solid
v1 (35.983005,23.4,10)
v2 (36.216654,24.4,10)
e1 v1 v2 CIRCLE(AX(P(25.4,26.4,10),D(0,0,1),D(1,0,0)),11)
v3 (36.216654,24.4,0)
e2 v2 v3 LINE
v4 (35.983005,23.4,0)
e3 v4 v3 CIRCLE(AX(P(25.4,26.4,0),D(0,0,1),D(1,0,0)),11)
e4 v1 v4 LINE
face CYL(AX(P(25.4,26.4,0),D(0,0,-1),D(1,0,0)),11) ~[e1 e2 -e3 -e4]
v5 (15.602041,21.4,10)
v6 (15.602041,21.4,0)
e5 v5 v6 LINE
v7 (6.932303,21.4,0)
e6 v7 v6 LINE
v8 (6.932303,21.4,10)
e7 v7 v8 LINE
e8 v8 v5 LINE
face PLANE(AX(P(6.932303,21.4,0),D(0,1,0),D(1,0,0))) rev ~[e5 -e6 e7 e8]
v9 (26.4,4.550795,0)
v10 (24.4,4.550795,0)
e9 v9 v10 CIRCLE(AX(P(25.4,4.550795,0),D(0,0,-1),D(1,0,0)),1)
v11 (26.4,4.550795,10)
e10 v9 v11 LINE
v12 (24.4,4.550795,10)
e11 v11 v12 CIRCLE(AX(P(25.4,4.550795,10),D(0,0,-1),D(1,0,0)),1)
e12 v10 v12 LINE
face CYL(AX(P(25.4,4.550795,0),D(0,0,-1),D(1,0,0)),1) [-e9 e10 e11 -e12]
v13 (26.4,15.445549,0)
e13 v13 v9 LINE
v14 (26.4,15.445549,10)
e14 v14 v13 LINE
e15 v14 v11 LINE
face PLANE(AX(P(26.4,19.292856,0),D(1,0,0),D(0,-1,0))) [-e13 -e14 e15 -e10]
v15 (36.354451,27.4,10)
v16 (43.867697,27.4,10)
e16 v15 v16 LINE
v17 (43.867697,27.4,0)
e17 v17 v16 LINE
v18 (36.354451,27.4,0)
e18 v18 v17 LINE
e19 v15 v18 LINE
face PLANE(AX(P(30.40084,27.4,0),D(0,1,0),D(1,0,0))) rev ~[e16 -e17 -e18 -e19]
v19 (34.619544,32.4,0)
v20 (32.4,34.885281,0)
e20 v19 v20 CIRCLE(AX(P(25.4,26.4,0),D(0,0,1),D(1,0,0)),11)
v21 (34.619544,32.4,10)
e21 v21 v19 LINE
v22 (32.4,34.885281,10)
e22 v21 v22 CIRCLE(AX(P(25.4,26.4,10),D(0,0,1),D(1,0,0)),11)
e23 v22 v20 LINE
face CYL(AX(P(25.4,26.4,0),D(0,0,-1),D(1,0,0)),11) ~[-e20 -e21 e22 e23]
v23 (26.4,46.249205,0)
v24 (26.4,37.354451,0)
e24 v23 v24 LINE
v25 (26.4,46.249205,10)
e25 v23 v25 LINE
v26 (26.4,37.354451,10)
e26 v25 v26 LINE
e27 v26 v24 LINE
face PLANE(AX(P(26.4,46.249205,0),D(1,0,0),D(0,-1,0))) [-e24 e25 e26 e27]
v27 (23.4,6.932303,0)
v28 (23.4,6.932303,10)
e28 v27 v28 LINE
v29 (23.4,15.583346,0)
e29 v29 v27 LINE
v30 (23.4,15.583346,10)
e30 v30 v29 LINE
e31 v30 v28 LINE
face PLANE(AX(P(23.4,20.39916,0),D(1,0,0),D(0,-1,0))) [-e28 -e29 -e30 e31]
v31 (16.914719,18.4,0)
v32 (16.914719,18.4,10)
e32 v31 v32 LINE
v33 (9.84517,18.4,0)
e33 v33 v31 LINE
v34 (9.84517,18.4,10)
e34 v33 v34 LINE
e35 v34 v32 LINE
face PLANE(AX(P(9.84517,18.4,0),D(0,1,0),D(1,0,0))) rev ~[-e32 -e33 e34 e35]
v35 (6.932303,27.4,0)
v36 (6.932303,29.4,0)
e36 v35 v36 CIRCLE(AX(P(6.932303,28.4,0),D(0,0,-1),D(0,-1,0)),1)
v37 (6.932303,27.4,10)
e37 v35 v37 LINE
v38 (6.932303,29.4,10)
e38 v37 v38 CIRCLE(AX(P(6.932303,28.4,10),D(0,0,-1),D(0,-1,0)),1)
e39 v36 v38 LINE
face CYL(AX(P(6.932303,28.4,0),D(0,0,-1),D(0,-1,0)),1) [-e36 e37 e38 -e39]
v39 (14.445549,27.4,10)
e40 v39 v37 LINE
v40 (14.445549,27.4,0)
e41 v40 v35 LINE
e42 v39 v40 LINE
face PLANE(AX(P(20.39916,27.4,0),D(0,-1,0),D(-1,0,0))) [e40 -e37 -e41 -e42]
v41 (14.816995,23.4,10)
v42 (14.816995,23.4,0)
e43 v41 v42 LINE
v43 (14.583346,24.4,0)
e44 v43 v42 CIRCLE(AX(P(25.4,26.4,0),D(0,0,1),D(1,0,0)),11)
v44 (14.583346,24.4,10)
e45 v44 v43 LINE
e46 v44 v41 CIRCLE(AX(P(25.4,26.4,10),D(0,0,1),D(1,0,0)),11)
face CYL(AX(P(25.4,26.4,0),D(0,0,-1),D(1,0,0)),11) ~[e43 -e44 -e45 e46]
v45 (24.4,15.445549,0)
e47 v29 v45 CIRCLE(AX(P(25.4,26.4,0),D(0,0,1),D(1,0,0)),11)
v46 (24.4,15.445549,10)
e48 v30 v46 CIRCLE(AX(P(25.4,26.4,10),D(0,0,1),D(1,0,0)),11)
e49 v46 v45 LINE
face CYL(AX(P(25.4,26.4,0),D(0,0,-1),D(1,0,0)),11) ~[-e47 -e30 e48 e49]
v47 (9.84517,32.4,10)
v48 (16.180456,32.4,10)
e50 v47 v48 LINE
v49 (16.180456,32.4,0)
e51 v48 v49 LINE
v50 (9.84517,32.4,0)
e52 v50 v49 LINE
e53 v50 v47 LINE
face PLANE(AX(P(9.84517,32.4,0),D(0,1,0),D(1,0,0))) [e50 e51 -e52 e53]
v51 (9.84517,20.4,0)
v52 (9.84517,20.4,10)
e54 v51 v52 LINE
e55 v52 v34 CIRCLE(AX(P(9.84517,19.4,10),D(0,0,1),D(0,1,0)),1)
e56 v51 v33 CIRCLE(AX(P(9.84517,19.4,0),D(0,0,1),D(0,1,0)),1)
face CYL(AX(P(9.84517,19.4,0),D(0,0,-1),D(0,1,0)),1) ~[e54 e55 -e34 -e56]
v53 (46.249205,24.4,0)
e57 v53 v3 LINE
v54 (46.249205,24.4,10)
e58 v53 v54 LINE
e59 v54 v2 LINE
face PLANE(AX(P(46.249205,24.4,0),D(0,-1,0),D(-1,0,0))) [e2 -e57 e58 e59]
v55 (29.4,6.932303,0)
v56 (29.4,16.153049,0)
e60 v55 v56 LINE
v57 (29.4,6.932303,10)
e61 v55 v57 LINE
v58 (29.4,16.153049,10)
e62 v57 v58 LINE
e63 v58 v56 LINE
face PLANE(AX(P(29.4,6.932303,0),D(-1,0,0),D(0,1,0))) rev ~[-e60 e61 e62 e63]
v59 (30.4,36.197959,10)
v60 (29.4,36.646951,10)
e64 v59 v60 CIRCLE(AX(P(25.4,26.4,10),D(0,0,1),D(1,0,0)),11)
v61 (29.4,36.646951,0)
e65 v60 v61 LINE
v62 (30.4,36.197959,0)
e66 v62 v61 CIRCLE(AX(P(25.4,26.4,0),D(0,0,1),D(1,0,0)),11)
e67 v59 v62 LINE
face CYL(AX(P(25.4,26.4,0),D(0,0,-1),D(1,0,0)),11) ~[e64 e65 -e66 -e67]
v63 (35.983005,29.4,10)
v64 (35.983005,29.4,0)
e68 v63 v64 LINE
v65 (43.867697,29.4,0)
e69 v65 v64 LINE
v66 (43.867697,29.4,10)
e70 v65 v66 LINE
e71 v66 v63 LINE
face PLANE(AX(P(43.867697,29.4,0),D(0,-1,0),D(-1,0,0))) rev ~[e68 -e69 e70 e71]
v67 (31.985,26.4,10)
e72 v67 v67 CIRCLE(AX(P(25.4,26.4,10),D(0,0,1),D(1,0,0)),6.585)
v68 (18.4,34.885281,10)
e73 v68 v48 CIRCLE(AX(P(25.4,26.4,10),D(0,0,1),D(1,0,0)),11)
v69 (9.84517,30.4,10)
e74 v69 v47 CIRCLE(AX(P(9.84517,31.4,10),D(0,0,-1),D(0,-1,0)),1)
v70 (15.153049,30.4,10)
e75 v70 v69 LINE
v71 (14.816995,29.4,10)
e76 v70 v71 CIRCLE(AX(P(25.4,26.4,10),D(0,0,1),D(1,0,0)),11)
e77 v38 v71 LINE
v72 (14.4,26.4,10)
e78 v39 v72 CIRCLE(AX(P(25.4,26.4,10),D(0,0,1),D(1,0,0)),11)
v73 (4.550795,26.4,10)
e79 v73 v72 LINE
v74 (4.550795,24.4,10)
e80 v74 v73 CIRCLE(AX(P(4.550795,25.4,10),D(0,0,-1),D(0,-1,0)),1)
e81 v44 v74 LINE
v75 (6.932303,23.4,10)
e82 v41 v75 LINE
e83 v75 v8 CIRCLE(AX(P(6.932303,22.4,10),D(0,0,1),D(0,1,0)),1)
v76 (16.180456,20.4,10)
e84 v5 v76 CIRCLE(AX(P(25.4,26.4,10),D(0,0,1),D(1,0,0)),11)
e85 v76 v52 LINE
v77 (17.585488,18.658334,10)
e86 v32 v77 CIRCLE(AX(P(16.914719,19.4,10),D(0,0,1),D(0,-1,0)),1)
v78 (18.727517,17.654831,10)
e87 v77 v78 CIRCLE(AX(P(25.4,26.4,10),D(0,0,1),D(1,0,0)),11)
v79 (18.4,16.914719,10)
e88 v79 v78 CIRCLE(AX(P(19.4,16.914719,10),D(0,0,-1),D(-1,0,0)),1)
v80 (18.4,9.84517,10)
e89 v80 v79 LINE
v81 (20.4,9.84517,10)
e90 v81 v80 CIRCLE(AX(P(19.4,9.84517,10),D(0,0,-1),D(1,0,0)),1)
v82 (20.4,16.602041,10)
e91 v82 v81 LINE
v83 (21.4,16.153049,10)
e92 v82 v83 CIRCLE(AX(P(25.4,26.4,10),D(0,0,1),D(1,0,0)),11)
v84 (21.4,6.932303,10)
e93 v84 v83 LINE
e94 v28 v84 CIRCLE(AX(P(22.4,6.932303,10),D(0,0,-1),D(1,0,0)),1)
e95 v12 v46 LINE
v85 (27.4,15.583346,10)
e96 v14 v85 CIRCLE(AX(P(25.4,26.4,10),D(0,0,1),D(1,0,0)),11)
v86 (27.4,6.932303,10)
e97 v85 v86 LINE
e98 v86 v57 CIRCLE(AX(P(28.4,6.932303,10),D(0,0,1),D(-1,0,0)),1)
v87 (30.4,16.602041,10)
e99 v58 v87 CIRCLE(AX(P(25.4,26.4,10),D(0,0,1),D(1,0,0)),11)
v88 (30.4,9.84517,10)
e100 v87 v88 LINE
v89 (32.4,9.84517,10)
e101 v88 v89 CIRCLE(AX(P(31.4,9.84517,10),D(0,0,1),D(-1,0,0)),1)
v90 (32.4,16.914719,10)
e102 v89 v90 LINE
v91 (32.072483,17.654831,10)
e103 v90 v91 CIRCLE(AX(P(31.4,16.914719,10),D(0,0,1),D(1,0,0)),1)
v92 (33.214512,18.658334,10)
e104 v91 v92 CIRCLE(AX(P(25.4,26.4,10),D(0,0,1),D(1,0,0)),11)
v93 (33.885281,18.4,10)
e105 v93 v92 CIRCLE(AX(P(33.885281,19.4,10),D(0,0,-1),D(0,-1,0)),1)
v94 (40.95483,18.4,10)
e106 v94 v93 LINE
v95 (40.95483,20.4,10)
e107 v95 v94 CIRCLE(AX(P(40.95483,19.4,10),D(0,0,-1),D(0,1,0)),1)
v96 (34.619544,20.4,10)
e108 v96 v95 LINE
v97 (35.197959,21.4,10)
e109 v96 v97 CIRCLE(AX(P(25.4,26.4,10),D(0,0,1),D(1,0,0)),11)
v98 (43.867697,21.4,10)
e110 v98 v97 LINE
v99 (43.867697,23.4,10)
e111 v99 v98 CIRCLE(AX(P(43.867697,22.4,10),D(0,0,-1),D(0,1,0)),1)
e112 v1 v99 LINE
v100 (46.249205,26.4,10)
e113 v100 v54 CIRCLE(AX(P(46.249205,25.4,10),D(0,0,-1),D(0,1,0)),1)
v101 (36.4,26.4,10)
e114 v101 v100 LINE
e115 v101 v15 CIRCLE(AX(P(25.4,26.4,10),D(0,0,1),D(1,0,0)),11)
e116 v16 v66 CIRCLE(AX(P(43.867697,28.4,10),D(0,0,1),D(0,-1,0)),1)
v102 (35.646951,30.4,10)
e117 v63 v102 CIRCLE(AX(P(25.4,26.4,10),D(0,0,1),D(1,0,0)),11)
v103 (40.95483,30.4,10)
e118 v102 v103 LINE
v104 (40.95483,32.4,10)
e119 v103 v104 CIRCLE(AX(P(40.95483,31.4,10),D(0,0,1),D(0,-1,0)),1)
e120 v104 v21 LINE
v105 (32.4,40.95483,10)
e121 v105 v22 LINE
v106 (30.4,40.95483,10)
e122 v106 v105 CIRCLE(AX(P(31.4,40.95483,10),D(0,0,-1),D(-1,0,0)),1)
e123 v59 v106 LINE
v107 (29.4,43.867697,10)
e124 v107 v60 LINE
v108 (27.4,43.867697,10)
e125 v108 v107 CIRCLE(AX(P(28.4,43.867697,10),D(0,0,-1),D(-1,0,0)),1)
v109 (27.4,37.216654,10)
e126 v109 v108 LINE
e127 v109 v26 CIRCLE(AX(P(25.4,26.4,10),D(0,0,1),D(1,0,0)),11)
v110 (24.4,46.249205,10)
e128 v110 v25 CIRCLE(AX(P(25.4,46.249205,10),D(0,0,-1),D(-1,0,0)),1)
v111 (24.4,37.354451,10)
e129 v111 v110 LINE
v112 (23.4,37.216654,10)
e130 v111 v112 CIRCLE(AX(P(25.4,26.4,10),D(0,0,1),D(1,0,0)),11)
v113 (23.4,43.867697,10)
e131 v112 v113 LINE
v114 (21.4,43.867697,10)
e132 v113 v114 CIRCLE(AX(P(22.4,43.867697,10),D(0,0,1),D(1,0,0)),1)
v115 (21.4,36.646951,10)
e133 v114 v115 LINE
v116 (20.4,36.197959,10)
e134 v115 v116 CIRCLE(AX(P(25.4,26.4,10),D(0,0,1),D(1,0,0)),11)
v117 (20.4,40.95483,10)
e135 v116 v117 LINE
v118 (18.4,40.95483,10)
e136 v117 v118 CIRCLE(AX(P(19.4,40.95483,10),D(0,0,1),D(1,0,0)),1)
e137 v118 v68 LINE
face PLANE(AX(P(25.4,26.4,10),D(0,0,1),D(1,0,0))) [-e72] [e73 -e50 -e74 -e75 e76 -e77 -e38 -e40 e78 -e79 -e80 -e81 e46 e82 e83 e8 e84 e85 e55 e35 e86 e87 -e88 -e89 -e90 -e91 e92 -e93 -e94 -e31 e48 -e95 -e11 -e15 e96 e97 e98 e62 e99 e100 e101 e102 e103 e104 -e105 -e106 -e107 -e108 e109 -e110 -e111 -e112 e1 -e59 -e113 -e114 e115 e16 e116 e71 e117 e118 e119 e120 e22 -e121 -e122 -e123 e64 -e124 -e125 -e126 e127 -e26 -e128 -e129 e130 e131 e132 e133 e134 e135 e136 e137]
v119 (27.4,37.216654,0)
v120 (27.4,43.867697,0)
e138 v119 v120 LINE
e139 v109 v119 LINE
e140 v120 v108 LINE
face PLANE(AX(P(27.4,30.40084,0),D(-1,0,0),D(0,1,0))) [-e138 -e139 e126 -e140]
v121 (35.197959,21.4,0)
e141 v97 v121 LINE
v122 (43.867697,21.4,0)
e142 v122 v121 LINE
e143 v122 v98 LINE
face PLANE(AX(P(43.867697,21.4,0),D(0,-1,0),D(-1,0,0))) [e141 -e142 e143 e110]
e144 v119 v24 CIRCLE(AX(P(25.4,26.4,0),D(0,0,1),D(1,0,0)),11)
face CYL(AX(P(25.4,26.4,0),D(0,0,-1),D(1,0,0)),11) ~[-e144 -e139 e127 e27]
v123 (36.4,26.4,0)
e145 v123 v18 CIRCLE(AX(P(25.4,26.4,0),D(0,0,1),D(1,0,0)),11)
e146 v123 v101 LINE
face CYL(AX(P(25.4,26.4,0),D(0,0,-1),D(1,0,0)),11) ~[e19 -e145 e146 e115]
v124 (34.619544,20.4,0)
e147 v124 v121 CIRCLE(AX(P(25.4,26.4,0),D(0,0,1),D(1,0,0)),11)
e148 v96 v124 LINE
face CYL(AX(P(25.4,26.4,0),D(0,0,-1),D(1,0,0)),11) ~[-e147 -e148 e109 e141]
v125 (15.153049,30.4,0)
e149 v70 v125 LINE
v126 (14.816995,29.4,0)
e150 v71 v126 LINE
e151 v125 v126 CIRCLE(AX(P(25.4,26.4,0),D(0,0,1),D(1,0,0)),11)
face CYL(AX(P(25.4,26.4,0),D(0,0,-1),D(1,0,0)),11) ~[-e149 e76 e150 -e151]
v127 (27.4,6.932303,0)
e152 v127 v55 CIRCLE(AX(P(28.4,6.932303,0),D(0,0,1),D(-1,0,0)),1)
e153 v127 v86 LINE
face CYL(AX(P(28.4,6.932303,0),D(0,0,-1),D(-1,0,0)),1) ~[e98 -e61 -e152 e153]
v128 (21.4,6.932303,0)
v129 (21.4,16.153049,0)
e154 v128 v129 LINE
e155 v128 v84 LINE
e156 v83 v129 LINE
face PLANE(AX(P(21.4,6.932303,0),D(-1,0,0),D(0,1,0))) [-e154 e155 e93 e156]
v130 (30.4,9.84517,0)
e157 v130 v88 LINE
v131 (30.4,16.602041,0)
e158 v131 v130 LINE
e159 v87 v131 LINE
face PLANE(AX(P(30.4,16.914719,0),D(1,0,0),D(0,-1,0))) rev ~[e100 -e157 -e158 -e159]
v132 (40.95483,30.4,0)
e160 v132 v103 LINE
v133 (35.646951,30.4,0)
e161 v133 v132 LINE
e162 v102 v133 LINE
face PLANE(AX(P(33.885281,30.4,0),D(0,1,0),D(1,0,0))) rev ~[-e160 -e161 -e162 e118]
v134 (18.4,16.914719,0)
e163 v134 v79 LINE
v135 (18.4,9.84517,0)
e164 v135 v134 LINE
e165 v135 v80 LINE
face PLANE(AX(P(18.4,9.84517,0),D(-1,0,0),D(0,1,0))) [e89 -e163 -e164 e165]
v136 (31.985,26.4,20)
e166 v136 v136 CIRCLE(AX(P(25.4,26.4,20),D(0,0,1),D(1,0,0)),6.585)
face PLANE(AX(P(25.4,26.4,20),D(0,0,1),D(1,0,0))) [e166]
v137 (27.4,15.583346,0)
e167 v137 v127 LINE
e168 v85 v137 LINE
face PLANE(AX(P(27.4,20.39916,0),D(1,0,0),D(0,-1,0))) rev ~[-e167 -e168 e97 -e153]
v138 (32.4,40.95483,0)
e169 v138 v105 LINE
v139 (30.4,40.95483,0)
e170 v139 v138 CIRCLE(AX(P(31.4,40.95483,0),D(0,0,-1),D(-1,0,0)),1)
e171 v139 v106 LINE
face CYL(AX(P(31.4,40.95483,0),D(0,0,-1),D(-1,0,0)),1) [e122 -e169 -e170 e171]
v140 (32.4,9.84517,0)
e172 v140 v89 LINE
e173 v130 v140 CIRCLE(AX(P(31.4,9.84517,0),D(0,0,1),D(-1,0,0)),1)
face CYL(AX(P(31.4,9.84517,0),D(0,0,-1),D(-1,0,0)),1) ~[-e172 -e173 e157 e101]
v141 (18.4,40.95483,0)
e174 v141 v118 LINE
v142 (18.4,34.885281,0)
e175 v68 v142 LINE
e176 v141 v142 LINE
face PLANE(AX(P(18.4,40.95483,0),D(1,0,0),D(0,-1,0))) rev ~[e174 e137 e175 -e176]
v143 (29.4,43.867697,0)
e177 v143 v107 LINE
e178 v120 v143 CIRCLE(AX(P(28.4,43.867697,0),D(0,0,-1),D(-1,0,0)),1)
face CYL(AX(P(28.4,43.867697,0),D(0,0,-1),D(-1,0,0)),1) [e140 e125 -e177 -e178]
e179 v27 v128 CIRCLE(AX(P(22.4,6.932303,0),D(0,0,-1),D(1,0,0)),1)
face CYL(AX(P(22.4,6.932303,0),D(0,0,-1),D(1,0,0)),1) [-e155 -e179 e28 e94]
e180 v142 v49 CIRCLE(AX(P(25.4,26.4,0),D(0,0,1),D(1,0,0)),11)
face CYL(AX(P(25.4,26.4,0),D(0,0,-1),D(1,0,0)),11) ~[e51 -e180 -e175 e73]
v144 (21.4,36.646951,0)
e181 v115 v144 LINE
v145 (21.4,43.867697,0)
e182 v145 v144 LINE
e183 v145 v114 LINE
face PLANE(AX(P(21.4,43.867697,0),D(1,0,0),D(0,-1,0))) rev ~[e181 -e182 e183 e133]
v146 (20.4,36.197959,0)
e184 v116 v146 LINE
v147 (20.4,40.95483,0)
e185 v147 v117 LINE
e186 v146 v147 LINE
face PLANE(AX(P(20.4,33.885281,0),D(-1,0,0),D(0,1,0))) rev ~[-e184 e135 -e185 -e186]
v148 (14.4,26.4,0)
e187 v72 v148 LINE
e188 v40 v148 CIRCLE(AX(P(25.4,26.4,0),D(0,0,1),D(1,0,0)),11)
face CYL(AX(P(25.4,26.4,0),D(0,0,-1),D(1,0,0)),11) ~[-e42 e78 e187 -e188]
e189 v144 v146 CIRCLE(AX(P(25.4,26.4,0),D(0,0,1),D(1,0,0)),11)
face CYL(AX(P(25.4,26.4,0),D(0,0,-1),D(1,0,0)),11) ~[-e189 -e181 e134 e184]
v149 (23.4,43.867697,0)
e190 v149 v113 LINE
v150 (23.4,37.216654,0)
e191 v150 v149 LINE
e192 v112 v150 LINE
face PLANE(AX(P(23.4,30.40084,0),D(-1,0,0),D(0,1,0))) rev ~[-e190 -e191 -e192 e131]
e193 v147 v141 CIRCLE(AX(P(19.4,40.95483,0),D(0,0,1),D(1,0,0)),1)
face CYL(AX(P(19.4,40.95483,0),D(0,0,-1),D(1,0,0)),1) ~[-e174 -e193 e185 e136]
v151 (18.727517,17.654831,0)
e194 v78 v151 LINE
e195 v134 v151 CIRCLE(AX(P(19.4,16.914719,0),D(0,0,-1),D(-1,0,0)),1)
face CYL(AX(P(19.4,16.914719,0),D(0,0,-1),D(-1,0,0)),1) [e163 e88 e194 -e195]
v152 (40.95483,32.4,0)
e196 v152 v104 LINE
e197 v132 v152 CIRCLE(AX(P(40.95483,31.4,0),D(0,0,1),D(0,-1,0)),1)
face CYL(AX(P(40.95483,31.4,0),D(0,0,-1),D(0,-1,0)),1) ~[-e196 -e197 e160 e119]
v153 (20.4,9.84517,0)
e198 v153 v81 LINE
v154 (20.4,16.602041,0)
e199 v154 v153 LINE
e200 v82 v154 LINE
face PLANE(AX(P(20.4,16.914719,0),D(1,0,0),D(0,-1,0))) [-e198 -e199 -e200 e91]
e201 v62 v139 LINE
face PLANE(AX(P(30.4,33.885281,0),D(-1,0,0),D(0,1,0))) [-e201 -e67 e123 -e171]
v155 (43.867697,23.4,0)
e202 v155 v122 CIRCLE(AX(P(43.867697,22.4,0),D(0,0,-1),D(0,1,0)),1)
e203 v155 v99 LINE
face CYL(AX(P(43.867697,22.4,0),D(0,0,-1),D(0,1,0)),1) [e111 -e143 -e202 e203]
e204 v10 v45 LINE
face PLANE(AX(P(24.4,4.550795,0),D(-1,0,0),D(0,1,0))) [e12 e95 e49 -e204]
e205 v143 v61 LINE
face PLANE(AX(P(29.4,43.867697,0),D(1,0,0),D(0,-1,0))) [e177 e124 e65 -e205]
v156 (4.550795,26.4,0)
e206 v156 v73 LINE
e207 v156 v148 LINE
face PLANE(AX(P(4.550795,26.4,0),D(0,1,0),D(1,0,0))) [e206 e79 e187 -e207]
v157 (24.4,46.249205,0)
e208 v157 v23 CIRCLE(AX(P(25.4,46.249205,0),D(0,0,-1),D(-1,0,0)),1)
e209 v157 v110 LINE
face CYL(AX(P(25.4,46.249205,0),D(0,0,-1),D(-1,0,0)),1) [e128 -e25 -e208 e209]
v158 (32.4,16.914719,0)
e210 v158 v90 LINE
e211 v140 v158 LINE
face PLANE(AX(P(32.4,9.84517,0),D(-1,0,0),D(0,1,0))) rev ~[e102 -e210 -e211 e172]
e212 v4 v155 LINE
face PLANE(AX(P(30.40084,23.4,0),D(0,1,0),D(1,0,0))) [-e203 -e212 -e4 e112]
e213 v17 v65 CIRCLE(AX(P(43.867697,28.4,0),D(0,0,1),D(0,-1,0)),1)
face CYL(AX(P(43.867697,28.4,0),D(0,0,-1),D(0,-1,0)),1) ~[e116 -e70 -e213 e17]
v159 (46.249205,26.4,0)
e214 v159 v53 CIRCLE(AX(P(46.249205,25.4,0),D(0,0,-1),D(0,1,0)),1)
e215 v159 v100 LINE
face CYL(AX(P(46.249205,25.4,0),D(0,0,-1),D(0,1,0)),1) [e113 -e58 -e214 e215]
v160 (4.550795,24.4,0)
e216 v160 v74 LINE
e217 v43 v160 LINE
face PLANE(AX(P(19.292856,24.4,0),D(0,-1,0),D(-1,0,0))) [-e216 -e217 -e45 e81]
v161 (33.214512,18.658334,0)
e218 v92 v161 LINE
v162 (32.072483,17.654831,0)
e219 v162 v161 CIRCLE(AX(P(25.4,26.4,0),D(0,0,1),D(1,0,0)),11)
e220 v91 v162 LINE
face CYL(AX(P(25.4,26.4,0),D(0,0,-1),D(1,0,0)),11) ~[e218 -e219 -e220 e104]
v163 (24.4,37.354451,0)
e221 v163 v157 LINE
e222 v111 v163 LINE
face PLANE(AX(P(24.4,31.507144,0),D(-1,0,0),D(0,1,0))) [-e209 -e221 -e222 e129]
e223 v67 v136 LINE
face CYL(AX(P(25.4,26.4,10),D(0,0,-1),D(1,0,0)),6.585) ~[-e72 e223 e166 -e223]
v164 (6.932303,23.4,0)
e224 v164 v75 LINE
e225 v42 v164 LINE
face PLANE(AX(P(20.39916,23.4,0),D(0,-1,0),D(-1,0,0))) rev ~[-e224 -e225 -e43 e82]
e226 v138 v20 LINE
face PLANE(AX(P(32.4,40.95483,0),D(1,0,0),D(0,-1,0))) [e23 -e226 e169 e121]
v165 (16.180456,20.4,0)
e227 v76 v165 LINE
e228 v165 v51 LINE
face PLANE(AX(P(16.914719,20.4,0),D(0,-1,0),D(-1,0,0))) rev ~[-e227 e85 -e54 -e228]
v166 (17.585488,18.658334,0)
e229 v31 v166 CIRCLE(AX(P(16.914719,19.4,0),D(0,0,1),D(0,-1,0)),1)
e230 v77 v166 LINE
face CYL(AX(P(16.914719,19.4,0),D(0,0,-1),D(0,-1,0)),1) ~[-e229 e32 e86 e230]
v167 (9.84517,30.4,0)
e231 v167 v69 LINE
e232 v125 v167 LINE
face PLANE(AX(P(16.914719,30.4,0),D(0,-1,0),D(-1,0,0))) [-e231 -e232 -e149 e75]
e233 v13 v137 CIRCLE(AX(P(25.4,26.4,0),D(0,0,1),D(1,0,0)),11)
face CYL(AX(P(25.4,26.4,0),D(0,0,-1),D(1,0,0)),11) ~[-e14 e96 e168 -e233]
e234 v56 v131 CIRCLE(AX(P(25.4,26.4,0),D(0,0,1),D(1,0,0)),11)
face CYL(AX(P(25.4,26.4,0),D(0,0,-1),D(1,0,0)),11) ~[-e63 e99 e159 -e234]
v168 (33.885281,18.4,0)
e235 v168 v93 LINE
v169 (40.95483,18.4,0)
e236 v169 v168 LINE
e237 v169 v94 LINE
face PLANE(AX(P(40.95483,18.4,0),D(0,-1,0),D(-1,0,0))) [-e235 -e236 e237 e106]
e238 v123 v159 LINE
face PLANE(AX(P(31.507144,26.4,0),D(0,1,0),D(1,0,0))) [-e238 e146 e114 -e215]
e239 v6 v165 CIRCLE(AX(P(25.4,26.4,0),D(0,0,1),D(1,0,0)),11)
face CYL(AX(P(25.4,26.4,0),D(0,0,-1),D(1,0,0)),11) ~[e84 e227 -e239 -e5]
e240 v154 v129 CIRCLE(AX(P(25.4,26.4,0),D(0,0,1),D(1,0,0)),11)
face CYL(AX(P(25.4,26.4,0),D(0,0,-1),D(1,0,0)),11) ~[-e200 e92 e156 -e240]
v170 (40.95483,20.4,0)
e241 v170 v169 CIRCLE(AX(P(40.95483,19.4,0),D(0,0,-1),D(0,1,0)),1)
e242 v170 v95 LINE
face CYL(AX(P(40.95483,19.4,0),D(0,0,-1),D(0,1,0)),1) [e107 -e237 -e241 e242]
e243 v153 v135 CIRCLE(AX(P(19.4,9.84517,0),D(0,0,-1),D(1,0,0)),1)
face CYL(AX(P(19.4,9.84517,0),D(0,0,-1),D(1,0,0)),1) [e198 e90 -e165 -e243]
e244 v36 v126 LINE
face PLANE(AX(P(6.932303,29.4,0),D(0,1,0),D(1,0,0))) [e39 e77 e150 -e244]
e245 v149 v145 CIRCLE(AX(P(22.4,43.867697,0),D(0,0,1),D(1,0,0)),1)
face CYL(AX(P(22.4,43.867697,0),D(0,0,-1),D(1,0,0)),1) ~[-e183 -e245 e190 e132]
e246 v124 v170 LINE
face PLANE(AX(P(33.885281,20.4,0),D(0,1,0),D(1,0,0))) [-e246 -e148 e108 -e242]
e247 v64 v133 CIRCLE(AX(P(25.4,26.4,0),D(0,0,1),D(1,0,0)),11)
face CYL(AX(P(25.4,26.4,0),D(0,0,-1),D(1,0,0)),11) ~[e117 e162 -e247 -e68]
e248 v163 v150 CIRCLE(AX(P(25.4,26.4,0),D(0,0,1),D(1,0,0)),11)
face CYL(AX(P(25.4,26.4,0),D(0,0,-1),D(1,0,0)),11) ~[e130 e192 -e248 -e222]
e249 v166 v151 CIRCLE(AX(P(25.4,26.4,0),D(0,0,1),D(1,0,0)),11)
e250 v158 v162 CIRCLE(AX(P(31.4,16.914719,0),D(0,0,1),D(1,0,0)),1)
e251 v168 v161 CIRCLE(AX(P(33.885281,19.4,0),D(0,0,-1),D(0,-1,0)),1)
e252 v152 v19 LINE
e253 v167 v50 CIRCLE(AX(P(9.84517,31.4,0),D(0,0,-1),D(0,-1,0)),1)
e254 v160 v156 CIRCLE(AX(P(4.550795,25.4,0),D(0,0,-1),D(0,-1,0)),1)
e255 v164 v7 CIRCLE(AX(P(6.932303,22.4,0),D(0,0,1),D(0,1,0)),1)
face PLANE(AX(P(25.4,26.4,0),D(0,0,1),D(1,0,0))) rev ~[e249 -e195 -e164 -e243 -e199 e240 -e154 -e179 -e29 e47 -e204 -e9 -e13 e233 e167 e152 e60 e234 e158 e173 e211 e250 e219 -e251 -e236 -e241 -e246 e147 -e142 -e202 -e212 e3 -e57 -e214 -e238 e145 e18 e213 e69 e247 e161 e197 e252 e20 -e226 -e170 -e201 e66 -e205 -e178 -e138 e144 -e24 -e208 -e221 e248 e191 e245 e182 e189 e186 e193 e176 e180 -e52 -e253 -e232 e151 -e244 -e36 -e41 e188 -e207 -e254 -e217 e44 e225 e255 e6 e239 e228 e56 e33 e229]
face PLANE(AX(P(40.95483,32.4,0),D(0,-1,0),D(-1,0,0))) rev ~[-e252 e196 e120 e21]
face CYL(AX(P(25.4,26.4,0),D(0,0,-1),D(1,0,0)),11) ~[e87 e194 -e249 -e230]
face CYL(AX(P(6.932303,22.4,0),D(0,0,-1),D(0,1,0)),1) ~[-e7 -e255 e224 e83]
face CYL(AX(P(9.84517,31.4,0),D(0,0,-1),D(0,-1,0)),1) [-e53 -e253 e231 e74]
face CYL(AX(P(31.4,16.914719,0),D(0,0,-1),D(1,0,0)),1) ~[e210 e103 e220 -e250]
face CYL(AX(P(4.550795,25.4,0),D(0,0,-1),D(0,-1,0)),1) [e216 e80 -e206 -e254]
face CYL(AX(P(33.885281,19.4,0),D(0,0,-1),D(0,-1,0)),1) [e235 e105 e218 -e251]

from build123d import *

# Parameters (mm, degrees)
BOSS_EXTRUDE3_DEPTH    = 10
BOSS_EXTRUDE3_2_DEPTH  = 10
BOSS_EXTRUDE3_3_DEPTH  = 10
BOSS_EXTRUDE3_4_DEPTH  = 10
BOSS_EXTRUDE3_5_DEPTH  = 10
BOSS_EXTRUDE3_6_DEPTH  = 10
BOSS_EXTRUDE3_7_DEPTH  = 10
BOSS_EXTRUDE3_8_DEPTH  = 10
BOSS_EXTRUDE3_9_DEPTH  = 10
BOSS_EXTRUDE3_10_DEPTH = 10
BOSS_EXTRUDE3_11_DEPTH = 10
BOSS_EXTRUDE3_12_DEPTH = 10
BOSS_EXTRUDE3_13_DEPTH = 10
BOSS_EXTRUDE3_14_DEPTH = 10
BOSS_EXTRUDE3_15_DEPTH = 10
BOSS_EXTRUDE3_16_DEPTH = 10
BOSS_EXTRUDE3_17_DEPTH = 10
BOSS_EXTRUDE3_18_DEPTH = 10
BOSS_EXTRUDE3_19_DEPTH = 10
BOSS_EXTRUDE3_20_DEPTH = 10
SKETCH12_R             = 11
BOSS_EXTRUDE4_DEPTH    = 10
SKETCH13_R             = 6.585
BOSS_EXTRUDE5_DEPTH    = 10


with BuildPart() as part:
    # Sketch11 → Boss-Extrude3 (new body)
    with BuildSketch(Plane.XY):
        with BuildLine():
            Line((24.4, 31.507143862), (24.4, 46.249205315))
            ThreePointArc((24.4, 46.249205315), (25.4, 47.249205315), (26.4, 46.249205315))
            Line((26.4, 46.249205315), (26.4, 31.507143862))
            ThreePointArc((26.4, 31.507143862), (25.4, 30.507143862), (24.4, 31.507143862))
        make_face()
    extrude(amount=BOSS_EXTRUDE3_DEPTH)



with BuildPart() as body_2:
    # Sketch11 → Boss-Extrude3 2 (new body)
    with BuildSketch(Plane.XY):
        with BuildLine():
            Line((27.4, 30.400840206), (27.4, 43.867696771))
            ThreePointArc((27.4, 43.867696771), (28.4, 44.867696771), (29.4, 43.867696771))
            Line((29.4, 43.867696771), (29.4, 30.400840206))
            ThreePointArc((29.4, 30.400840206), (28.4, 29.400840206), (27.4, 30.400840206))
        make_face()
    extrude(amount=BOSS_EXTRUDE3_2_DEPTH)


with BuildPart() as body_3:
    # Sketch11 → Boss-Extrude3 3 (new body)
    with BuildSketch(Plane.XY):
        with BuildLine():
            Line((30.4, 33.885281374), (30.4, 40.954829552))
            ThreePointArc((30.4, 40.954829552), (31.4, 41.954829552), (32.4, 40.954829552))
            Line((32.4, 40.954829552), (32.4, 33.885281374))
            ThreePointArc((32.4, 33.885281374), (31.4, 32.885281374), (30.4, 33.885281374))
        make_face()
    extrude(amount=BOSS_EXTRUDE3_3_DEPTH)


with BuildPart() as body_4:
    # Sketch11 → Boss-Extrude3 4 (new body)
    with BuildSketch(Plane.XY):
        with BuildLine():
            Line((23.4, 30.400840206), (23.4, 43.867696771))
            ThreePointArc((23.4, 43.867696771), (22.4, 44.867696771), (21.4, 43.867696771))
            Line((21.4, 43.867696771), (21.4, 30.400840206))
            ThreePointArc((21.4, 30.400840206), (22.4, 29.400840206), (23.4, 30.400840206))
        make_face()
    extrude(amount=BOSS_EXTRUDE3_4_DEPTH)


with BuildPart() as body_5:
    # Sketch11 → Boss-Extrude3 5 (new body)
    with BuildSketch(Plane.XY):
        with BuildLine():
            Line((20.4, 33.885281374), (20.4, 40.954829552))
            ThreePointArc((20.4, 40.954829552), (19.4, 41.954829552), (18.4, 40.954829552))
            Line((18.4, 40.954829552), (18.4, 33.885281374))
            ThreePointArc((18.4, 33.885281374), (19.4, 32.885281374), (20.4, 33.885281374))
        make_face()
    extrude(amount=BOSS_EXTRUDE3_5_DEPTH)


with BuildPart() as body_6:
    # Sketch11 → Boss-Extrude3 6 (new body)
    with BuildSketch(Plane.XY):
        with BuildLine():
            Line((31.507143862, 26.4), (46.249205315, 26.4))
            ThreePointArc((46.249205315, 26.4), (47.249205315, 25.4), (46.249205315, 24.4))
            Line((46.249205315, 24.4), (31.507143862, 24.4))
            ThreePointArc((31.507143862, 24.4), (30.507143862, 25.4), (31.507143862, 26.4))
        make_face()
    extrude(amount=BOSS_EXTRUDE3_6_DEPTH)


with BuildPart() as body_7:
    # Sketch11 → Boss-Extrude3 7 (new body)
    with BuildSketch(Plane.XY):
        with BuildLine():
            Line((30.400840206, 23.4), (43.867696771, 23.4))
            ThreePointArc((43.867696771, 23.4), (44.867696771, 22.4), (43.867696771, 21.4))
            Line((43.867696771, 21.4), (30.400840206, 21.4))
            ThreePointArc((30.400840206, 21.4), (29.400840206, 22.4), (30.400840206, 23.4))
        make_face()
    extrude(amount=BOSS_EXTRUDE3_7_DEPTH)


with BuildPart() as body_8:
    # Sketch11 → Boss-Extrude3 8 (new body)
    with BuildSketch(Plane.XY):
        with BuildLine():
            Line((33.885281374, 20.4), (40.954829552, 20.4))
            ThreePointArc((40.954829552, 20.4), (41.954829552, 19.4), (40.954829552, 18.4))
            Line((40.954829552, 18.4), (33.885281374, 18.4))
            ThreePointArc((33.885281374, 18.4), (32.885281374, 19.4), (33.885281374, 20.4))
        make_face()
    extrude(amount=BOSS_EXTRUDE3_8_DEPTH)


with BuildPart() as body_9:
    # Sketch11 → Boss-Extrude3 9 (new body)
    with BuildSketch(Plane.XY):
        with BuildLine():
            Line((30.400840206, 27.4), (43.867696771, 27.4))
            ThreePointArc((43.867696771, 27.4), (44.867696771, 28.4), (43.867696771, 29.4))
            Line((43.867696771, 29.4), (30.400840206, 29.4))
            ThreePointArc((30.400840206, 29.4), (29.400840206, 28.4), (30.400840206, 27.4))
        make_face()
    extrude(amount=BOSS_EXTRUDE3_9_DEPTH)


with BuildPart() as body_10:
    # Sketch11 → Boss-Extrude3 10 (new body)
    with BuildSketch(Plane.XY):
        with BuildLine():
            Line((33.885281374, 30.4), (40.954829552, 30.4))
            ThreePointArc((40.954829552, 30.4), (41.954829552, 31.4), (40.954829552, 32.4))
            Line((40.954829552, 32.4), (33.885281374, 32.4))
            ThreePointArc((33.885281374, 32.4), (32.885281374, 31.4), (33.885281374, 30.4))
        make_face()
    extrude(amount=BOSS_EXTRUDE3_10_DEPTH)


with BuildPart() as body_11:
    # Sketch11 → Boss-Extrude3 11 (new body)
    with BuildSketch(Plane.XY):
        with BuildLine():
            Line((26.4, 19.292856138), (26.4, 4.550794685))
            ThreePointArc((26.4, 4.550794685), (25.4, 3.550794685), (24.4, 4.550794685))
            Line((24.4, 4.550794685), (24.4, 19.292856138))
            ThreePointArc((24.4, 19.292856138), (25.4, 20.292856138), (26.4, 19.292856138))
        make_face()
    extrude(amount=BOSS_EXTRUDE3_11_DEPTH)


with BuildPart() as body_12:
    # Sketch11 → Boss-Extrude3 12 (new body)
    with BuildSketch(Plane.XY):
        with BuildLine():
            Line((23.4, 20.399159794), (23.4, 6.932303229))
            ThreePointArc((23.4, 6.932303229), (22.4, 5.932303229), (21.4, 6.932303229))
            Line((21.4, 6.932303229), (21.4, 20.399159794))
            ThreePointArc((21.4, 20.399159794), (22.4, 21.399159794), (23.4, 20.399159794))
        make_face()
    extrude(amount=BOSS_EXTRUDE3_12_DEPTH)


with BuildPart() as body_13:
    # Sketch11 → Boss-Extrude3 13 (new body)
    with BuildSketch(Plane.XY):
        with BuildLine():
            Line((20.4, 16.914718626), (20.4, 9.845170448))
            ThreePointArc((20.4, 9.845170448), (19.4, 8.845170448), (18.4, 9.845170448))
            Line((18.4, 9.845170448), (18.4, 16.914718626))
            ThreePointArc((18.4, 16.914718626), (19.4, 17.914718626), (20.4, 16.914718626))
        make_face()
    extrude(amount=BOSS_EXTRUDE3_13_DEPTH)


with BuildPart() as body_14:
    # Sketch11 → Boss-Extrude3 14 (new body)
    with BuildSketch(Plane.XY):
        with BuildLine():
            Line((27.4, 20.399159794), (27.4, 6.932303229))
            ThreePointArc((27.4, 6.932303229), (28.4, 5.932303229), (29.4, 6.932303229))
            Line((29.4, 6.932303229), (29.4, 20.399159794))
            ThreePointArc((29.4, 20.399159794), (28.4, 21.399159794), (27.4, 20.399159794))
        make_face()
    extrude(amount=BOSS_EXTRUDE3_14_DEPTH)


with BuildPart() as body_15:
    # Sketch11 → Boss-Extrude3 15 (new body)
    with BuildSketch(Plane.XY):
        with BuildLine():
            Line((30.4, 16.914718626), (30.4, 9.845170448))
            ThreePointArc((30.4, 9.845170448), (31.4, 8.845170448), (32.4, 9.845170448))
            Line((32.4, 9.845170448), (32.4, 16.914718626))
            ThreePointArc((32.4, 16.914718626), (31.4, 17.914718626), (30.4, 16.914718626))
        make_face()
    extrude(amount=BOSS_EXTRUDE3_15_DEPTH)


with BuildPart() as body_16:
    # Sketch11 → Boss-Extrude3 16 (new body)
    with BuildSketch(Plane.XY):
        with BuildLine():
            Line((19.292856138, 24.4), (4.550794685, 24.4))
            ThreePointArc((4.550794685, 24.4), (3.550794685, 25.4), (4.550794685, 26.4))
            Line((4.550794685, 26.4), (19.292856138, 26.4))
            ThreePointArc((19.292856138, 26.4), (20.292856138, 25.4), (19.292856138, 24.4))
        make_face()
    extrude(amount=BOSS_EXTRUDE3_16_DEPTH)


with BuildPart() as body_17:
    # Sketch11 → Boss-Extrude3 17 (new body)
    with BuildSketch(Plane.XY):
        with BuildLine():
            Line((20.399159794, 27.4), (6.932303229, 27.4))
            ThreePointArc((6.932303229, 27.4), (5.932303229, 28.4), (6.932303229, 29.4))
            Line((6.932303229, 29.4), (20.399159794, 29.4))
            ThreePointArc((20.399159794, 29.4), (21.399159794, 28.4), (20.399159794, 27.4))
        make_face()
    extrude(amount=BOSS_EXTRUDE3_17_DEPTH)


with BuildPart() as body_18:
    # Sketch11 → Boss-Extrude3 18 (new body)
    with BuildSketch(Plane.XY):
        with BuildLine():
            Line((16.914718626, 30.4), (9.845170448, 30.4))
            ThreePointArc((9.845170448, 30.4), (8.845170448, 31.4), (9.845170448, 32.4))
            Line((9.845170448, 32.4), (16.914718626, 32.4))
            ThreePointArc((16.914718626, 32.4), (17.914718626, 31.4), (16.914718626, 30.4))
        make_face()
    extrude(amount=BOSS_EXTRUDE3_18_DEPTH)


with BuildPart() as body_19:
    # Sketch11 → Boss-Extrude3 19 (new body)
    with BuildSketch(Plane.XY):
        with BuildLine():
            Line((20.399159794, 23.4), (6.932303229, 23.4))
            ThreePointArc((6.932303229, 23.4), (5.932303229, 22.4), (6.932303229, 21.4))
            Line((6.932303229, 21.4), (20.399159794, 21.4))
            ThreePointArc((20.399159794, 21.4), (21.399159794, 22.4), (20.399159794, 23.4))
        make_face()
    extrude(amount=BOSS_EXTRUDE3_19_DEPTH)


with BuildPart() as body_20:
    # Sketch11 → Boss-Extrude3 20 (new body)
    with BuildSketch(Plane.XY):
        with BuildLine():
            Line((16.914718626, 20.4), (9.845170448, 20.4))
            ThreePointArc((9.845170448, 20.4), (8.845170448, 19.4), (9.845170448, 18.4))
            Line((9.845170448, 18.4), (16.914718626, 18.4))
            ThreePointArc((16.914718626, 18.4), (17.914718626, 19.4), (16.914718626, 20.4))
        make_face()
    extrude(amount=BOSS_EXTRUDE3_20_DEPTH)


with BuildPart() as part_1:
    add(part.part)

    add(body_2.part)  # Boss-Extrude4 merges body 2

    add(body_3.part)  # Boss-Extrude4 merges body 3

    add(body_4.part)  # Boss-Extrude4 merges body 4

    add(body_5.part)  # Boss-Extrude4 merges body 5

    add(body_6.part)  # Boss-Extrude4 merges body 6

    add(body_7.part)  # Boss-Extrude4 merges body 7

    add(body_8.part)  # Boss-Extrude4 merges body 8

    add(body_9.part)  # Boss-Extrude4 merges body 9

    add(body_10.part)  # Boss-Extrude4 merges body 10

    add(body_11.part)  # Boss-Extrude4 merges body 11

    add(body_12.part)  # Boss-Extrude4 merges body 12

    add(body_13.part)  # Boss-Extrude4 merges body 13

    add(body_14.part)  # Boss-Extrude4 merges body 14

    add(body_15.part)  # Boss-Extrude4 merges body 15

    add(body_16.part)  # Boss-Extrude4 merges body 16

    add(body_17.part)  # Boss-Extrude4 merges body 17

    add(body_18.part)  # Boss-Extrude4 merges body 18

    add(body_19.part)  # Boss-Extrude4 merges body 19

    add(body_20.part)  # Boss-Extrude4 merges body 20
    # Sketch12 → Boss-Extrude4 (add)
    with BuildSketch(Plane.XY):
        with Locations((25.4, 26.4)):
            Circle(SKETCH12_R)
    extrude(amount=BOSS_EXTRUDE4_DEPTH)

    # Sketch13 → Boss-Extrude5 (add)
    with BuildSketch(Plane.XY.offset(10)):
        with Locations((25.4, 26.4)):
            Circle(SKETCH13_R)
    extrude(amount=BOSS_EXTRUDE5_DEPTH)


solid = part_1.part
